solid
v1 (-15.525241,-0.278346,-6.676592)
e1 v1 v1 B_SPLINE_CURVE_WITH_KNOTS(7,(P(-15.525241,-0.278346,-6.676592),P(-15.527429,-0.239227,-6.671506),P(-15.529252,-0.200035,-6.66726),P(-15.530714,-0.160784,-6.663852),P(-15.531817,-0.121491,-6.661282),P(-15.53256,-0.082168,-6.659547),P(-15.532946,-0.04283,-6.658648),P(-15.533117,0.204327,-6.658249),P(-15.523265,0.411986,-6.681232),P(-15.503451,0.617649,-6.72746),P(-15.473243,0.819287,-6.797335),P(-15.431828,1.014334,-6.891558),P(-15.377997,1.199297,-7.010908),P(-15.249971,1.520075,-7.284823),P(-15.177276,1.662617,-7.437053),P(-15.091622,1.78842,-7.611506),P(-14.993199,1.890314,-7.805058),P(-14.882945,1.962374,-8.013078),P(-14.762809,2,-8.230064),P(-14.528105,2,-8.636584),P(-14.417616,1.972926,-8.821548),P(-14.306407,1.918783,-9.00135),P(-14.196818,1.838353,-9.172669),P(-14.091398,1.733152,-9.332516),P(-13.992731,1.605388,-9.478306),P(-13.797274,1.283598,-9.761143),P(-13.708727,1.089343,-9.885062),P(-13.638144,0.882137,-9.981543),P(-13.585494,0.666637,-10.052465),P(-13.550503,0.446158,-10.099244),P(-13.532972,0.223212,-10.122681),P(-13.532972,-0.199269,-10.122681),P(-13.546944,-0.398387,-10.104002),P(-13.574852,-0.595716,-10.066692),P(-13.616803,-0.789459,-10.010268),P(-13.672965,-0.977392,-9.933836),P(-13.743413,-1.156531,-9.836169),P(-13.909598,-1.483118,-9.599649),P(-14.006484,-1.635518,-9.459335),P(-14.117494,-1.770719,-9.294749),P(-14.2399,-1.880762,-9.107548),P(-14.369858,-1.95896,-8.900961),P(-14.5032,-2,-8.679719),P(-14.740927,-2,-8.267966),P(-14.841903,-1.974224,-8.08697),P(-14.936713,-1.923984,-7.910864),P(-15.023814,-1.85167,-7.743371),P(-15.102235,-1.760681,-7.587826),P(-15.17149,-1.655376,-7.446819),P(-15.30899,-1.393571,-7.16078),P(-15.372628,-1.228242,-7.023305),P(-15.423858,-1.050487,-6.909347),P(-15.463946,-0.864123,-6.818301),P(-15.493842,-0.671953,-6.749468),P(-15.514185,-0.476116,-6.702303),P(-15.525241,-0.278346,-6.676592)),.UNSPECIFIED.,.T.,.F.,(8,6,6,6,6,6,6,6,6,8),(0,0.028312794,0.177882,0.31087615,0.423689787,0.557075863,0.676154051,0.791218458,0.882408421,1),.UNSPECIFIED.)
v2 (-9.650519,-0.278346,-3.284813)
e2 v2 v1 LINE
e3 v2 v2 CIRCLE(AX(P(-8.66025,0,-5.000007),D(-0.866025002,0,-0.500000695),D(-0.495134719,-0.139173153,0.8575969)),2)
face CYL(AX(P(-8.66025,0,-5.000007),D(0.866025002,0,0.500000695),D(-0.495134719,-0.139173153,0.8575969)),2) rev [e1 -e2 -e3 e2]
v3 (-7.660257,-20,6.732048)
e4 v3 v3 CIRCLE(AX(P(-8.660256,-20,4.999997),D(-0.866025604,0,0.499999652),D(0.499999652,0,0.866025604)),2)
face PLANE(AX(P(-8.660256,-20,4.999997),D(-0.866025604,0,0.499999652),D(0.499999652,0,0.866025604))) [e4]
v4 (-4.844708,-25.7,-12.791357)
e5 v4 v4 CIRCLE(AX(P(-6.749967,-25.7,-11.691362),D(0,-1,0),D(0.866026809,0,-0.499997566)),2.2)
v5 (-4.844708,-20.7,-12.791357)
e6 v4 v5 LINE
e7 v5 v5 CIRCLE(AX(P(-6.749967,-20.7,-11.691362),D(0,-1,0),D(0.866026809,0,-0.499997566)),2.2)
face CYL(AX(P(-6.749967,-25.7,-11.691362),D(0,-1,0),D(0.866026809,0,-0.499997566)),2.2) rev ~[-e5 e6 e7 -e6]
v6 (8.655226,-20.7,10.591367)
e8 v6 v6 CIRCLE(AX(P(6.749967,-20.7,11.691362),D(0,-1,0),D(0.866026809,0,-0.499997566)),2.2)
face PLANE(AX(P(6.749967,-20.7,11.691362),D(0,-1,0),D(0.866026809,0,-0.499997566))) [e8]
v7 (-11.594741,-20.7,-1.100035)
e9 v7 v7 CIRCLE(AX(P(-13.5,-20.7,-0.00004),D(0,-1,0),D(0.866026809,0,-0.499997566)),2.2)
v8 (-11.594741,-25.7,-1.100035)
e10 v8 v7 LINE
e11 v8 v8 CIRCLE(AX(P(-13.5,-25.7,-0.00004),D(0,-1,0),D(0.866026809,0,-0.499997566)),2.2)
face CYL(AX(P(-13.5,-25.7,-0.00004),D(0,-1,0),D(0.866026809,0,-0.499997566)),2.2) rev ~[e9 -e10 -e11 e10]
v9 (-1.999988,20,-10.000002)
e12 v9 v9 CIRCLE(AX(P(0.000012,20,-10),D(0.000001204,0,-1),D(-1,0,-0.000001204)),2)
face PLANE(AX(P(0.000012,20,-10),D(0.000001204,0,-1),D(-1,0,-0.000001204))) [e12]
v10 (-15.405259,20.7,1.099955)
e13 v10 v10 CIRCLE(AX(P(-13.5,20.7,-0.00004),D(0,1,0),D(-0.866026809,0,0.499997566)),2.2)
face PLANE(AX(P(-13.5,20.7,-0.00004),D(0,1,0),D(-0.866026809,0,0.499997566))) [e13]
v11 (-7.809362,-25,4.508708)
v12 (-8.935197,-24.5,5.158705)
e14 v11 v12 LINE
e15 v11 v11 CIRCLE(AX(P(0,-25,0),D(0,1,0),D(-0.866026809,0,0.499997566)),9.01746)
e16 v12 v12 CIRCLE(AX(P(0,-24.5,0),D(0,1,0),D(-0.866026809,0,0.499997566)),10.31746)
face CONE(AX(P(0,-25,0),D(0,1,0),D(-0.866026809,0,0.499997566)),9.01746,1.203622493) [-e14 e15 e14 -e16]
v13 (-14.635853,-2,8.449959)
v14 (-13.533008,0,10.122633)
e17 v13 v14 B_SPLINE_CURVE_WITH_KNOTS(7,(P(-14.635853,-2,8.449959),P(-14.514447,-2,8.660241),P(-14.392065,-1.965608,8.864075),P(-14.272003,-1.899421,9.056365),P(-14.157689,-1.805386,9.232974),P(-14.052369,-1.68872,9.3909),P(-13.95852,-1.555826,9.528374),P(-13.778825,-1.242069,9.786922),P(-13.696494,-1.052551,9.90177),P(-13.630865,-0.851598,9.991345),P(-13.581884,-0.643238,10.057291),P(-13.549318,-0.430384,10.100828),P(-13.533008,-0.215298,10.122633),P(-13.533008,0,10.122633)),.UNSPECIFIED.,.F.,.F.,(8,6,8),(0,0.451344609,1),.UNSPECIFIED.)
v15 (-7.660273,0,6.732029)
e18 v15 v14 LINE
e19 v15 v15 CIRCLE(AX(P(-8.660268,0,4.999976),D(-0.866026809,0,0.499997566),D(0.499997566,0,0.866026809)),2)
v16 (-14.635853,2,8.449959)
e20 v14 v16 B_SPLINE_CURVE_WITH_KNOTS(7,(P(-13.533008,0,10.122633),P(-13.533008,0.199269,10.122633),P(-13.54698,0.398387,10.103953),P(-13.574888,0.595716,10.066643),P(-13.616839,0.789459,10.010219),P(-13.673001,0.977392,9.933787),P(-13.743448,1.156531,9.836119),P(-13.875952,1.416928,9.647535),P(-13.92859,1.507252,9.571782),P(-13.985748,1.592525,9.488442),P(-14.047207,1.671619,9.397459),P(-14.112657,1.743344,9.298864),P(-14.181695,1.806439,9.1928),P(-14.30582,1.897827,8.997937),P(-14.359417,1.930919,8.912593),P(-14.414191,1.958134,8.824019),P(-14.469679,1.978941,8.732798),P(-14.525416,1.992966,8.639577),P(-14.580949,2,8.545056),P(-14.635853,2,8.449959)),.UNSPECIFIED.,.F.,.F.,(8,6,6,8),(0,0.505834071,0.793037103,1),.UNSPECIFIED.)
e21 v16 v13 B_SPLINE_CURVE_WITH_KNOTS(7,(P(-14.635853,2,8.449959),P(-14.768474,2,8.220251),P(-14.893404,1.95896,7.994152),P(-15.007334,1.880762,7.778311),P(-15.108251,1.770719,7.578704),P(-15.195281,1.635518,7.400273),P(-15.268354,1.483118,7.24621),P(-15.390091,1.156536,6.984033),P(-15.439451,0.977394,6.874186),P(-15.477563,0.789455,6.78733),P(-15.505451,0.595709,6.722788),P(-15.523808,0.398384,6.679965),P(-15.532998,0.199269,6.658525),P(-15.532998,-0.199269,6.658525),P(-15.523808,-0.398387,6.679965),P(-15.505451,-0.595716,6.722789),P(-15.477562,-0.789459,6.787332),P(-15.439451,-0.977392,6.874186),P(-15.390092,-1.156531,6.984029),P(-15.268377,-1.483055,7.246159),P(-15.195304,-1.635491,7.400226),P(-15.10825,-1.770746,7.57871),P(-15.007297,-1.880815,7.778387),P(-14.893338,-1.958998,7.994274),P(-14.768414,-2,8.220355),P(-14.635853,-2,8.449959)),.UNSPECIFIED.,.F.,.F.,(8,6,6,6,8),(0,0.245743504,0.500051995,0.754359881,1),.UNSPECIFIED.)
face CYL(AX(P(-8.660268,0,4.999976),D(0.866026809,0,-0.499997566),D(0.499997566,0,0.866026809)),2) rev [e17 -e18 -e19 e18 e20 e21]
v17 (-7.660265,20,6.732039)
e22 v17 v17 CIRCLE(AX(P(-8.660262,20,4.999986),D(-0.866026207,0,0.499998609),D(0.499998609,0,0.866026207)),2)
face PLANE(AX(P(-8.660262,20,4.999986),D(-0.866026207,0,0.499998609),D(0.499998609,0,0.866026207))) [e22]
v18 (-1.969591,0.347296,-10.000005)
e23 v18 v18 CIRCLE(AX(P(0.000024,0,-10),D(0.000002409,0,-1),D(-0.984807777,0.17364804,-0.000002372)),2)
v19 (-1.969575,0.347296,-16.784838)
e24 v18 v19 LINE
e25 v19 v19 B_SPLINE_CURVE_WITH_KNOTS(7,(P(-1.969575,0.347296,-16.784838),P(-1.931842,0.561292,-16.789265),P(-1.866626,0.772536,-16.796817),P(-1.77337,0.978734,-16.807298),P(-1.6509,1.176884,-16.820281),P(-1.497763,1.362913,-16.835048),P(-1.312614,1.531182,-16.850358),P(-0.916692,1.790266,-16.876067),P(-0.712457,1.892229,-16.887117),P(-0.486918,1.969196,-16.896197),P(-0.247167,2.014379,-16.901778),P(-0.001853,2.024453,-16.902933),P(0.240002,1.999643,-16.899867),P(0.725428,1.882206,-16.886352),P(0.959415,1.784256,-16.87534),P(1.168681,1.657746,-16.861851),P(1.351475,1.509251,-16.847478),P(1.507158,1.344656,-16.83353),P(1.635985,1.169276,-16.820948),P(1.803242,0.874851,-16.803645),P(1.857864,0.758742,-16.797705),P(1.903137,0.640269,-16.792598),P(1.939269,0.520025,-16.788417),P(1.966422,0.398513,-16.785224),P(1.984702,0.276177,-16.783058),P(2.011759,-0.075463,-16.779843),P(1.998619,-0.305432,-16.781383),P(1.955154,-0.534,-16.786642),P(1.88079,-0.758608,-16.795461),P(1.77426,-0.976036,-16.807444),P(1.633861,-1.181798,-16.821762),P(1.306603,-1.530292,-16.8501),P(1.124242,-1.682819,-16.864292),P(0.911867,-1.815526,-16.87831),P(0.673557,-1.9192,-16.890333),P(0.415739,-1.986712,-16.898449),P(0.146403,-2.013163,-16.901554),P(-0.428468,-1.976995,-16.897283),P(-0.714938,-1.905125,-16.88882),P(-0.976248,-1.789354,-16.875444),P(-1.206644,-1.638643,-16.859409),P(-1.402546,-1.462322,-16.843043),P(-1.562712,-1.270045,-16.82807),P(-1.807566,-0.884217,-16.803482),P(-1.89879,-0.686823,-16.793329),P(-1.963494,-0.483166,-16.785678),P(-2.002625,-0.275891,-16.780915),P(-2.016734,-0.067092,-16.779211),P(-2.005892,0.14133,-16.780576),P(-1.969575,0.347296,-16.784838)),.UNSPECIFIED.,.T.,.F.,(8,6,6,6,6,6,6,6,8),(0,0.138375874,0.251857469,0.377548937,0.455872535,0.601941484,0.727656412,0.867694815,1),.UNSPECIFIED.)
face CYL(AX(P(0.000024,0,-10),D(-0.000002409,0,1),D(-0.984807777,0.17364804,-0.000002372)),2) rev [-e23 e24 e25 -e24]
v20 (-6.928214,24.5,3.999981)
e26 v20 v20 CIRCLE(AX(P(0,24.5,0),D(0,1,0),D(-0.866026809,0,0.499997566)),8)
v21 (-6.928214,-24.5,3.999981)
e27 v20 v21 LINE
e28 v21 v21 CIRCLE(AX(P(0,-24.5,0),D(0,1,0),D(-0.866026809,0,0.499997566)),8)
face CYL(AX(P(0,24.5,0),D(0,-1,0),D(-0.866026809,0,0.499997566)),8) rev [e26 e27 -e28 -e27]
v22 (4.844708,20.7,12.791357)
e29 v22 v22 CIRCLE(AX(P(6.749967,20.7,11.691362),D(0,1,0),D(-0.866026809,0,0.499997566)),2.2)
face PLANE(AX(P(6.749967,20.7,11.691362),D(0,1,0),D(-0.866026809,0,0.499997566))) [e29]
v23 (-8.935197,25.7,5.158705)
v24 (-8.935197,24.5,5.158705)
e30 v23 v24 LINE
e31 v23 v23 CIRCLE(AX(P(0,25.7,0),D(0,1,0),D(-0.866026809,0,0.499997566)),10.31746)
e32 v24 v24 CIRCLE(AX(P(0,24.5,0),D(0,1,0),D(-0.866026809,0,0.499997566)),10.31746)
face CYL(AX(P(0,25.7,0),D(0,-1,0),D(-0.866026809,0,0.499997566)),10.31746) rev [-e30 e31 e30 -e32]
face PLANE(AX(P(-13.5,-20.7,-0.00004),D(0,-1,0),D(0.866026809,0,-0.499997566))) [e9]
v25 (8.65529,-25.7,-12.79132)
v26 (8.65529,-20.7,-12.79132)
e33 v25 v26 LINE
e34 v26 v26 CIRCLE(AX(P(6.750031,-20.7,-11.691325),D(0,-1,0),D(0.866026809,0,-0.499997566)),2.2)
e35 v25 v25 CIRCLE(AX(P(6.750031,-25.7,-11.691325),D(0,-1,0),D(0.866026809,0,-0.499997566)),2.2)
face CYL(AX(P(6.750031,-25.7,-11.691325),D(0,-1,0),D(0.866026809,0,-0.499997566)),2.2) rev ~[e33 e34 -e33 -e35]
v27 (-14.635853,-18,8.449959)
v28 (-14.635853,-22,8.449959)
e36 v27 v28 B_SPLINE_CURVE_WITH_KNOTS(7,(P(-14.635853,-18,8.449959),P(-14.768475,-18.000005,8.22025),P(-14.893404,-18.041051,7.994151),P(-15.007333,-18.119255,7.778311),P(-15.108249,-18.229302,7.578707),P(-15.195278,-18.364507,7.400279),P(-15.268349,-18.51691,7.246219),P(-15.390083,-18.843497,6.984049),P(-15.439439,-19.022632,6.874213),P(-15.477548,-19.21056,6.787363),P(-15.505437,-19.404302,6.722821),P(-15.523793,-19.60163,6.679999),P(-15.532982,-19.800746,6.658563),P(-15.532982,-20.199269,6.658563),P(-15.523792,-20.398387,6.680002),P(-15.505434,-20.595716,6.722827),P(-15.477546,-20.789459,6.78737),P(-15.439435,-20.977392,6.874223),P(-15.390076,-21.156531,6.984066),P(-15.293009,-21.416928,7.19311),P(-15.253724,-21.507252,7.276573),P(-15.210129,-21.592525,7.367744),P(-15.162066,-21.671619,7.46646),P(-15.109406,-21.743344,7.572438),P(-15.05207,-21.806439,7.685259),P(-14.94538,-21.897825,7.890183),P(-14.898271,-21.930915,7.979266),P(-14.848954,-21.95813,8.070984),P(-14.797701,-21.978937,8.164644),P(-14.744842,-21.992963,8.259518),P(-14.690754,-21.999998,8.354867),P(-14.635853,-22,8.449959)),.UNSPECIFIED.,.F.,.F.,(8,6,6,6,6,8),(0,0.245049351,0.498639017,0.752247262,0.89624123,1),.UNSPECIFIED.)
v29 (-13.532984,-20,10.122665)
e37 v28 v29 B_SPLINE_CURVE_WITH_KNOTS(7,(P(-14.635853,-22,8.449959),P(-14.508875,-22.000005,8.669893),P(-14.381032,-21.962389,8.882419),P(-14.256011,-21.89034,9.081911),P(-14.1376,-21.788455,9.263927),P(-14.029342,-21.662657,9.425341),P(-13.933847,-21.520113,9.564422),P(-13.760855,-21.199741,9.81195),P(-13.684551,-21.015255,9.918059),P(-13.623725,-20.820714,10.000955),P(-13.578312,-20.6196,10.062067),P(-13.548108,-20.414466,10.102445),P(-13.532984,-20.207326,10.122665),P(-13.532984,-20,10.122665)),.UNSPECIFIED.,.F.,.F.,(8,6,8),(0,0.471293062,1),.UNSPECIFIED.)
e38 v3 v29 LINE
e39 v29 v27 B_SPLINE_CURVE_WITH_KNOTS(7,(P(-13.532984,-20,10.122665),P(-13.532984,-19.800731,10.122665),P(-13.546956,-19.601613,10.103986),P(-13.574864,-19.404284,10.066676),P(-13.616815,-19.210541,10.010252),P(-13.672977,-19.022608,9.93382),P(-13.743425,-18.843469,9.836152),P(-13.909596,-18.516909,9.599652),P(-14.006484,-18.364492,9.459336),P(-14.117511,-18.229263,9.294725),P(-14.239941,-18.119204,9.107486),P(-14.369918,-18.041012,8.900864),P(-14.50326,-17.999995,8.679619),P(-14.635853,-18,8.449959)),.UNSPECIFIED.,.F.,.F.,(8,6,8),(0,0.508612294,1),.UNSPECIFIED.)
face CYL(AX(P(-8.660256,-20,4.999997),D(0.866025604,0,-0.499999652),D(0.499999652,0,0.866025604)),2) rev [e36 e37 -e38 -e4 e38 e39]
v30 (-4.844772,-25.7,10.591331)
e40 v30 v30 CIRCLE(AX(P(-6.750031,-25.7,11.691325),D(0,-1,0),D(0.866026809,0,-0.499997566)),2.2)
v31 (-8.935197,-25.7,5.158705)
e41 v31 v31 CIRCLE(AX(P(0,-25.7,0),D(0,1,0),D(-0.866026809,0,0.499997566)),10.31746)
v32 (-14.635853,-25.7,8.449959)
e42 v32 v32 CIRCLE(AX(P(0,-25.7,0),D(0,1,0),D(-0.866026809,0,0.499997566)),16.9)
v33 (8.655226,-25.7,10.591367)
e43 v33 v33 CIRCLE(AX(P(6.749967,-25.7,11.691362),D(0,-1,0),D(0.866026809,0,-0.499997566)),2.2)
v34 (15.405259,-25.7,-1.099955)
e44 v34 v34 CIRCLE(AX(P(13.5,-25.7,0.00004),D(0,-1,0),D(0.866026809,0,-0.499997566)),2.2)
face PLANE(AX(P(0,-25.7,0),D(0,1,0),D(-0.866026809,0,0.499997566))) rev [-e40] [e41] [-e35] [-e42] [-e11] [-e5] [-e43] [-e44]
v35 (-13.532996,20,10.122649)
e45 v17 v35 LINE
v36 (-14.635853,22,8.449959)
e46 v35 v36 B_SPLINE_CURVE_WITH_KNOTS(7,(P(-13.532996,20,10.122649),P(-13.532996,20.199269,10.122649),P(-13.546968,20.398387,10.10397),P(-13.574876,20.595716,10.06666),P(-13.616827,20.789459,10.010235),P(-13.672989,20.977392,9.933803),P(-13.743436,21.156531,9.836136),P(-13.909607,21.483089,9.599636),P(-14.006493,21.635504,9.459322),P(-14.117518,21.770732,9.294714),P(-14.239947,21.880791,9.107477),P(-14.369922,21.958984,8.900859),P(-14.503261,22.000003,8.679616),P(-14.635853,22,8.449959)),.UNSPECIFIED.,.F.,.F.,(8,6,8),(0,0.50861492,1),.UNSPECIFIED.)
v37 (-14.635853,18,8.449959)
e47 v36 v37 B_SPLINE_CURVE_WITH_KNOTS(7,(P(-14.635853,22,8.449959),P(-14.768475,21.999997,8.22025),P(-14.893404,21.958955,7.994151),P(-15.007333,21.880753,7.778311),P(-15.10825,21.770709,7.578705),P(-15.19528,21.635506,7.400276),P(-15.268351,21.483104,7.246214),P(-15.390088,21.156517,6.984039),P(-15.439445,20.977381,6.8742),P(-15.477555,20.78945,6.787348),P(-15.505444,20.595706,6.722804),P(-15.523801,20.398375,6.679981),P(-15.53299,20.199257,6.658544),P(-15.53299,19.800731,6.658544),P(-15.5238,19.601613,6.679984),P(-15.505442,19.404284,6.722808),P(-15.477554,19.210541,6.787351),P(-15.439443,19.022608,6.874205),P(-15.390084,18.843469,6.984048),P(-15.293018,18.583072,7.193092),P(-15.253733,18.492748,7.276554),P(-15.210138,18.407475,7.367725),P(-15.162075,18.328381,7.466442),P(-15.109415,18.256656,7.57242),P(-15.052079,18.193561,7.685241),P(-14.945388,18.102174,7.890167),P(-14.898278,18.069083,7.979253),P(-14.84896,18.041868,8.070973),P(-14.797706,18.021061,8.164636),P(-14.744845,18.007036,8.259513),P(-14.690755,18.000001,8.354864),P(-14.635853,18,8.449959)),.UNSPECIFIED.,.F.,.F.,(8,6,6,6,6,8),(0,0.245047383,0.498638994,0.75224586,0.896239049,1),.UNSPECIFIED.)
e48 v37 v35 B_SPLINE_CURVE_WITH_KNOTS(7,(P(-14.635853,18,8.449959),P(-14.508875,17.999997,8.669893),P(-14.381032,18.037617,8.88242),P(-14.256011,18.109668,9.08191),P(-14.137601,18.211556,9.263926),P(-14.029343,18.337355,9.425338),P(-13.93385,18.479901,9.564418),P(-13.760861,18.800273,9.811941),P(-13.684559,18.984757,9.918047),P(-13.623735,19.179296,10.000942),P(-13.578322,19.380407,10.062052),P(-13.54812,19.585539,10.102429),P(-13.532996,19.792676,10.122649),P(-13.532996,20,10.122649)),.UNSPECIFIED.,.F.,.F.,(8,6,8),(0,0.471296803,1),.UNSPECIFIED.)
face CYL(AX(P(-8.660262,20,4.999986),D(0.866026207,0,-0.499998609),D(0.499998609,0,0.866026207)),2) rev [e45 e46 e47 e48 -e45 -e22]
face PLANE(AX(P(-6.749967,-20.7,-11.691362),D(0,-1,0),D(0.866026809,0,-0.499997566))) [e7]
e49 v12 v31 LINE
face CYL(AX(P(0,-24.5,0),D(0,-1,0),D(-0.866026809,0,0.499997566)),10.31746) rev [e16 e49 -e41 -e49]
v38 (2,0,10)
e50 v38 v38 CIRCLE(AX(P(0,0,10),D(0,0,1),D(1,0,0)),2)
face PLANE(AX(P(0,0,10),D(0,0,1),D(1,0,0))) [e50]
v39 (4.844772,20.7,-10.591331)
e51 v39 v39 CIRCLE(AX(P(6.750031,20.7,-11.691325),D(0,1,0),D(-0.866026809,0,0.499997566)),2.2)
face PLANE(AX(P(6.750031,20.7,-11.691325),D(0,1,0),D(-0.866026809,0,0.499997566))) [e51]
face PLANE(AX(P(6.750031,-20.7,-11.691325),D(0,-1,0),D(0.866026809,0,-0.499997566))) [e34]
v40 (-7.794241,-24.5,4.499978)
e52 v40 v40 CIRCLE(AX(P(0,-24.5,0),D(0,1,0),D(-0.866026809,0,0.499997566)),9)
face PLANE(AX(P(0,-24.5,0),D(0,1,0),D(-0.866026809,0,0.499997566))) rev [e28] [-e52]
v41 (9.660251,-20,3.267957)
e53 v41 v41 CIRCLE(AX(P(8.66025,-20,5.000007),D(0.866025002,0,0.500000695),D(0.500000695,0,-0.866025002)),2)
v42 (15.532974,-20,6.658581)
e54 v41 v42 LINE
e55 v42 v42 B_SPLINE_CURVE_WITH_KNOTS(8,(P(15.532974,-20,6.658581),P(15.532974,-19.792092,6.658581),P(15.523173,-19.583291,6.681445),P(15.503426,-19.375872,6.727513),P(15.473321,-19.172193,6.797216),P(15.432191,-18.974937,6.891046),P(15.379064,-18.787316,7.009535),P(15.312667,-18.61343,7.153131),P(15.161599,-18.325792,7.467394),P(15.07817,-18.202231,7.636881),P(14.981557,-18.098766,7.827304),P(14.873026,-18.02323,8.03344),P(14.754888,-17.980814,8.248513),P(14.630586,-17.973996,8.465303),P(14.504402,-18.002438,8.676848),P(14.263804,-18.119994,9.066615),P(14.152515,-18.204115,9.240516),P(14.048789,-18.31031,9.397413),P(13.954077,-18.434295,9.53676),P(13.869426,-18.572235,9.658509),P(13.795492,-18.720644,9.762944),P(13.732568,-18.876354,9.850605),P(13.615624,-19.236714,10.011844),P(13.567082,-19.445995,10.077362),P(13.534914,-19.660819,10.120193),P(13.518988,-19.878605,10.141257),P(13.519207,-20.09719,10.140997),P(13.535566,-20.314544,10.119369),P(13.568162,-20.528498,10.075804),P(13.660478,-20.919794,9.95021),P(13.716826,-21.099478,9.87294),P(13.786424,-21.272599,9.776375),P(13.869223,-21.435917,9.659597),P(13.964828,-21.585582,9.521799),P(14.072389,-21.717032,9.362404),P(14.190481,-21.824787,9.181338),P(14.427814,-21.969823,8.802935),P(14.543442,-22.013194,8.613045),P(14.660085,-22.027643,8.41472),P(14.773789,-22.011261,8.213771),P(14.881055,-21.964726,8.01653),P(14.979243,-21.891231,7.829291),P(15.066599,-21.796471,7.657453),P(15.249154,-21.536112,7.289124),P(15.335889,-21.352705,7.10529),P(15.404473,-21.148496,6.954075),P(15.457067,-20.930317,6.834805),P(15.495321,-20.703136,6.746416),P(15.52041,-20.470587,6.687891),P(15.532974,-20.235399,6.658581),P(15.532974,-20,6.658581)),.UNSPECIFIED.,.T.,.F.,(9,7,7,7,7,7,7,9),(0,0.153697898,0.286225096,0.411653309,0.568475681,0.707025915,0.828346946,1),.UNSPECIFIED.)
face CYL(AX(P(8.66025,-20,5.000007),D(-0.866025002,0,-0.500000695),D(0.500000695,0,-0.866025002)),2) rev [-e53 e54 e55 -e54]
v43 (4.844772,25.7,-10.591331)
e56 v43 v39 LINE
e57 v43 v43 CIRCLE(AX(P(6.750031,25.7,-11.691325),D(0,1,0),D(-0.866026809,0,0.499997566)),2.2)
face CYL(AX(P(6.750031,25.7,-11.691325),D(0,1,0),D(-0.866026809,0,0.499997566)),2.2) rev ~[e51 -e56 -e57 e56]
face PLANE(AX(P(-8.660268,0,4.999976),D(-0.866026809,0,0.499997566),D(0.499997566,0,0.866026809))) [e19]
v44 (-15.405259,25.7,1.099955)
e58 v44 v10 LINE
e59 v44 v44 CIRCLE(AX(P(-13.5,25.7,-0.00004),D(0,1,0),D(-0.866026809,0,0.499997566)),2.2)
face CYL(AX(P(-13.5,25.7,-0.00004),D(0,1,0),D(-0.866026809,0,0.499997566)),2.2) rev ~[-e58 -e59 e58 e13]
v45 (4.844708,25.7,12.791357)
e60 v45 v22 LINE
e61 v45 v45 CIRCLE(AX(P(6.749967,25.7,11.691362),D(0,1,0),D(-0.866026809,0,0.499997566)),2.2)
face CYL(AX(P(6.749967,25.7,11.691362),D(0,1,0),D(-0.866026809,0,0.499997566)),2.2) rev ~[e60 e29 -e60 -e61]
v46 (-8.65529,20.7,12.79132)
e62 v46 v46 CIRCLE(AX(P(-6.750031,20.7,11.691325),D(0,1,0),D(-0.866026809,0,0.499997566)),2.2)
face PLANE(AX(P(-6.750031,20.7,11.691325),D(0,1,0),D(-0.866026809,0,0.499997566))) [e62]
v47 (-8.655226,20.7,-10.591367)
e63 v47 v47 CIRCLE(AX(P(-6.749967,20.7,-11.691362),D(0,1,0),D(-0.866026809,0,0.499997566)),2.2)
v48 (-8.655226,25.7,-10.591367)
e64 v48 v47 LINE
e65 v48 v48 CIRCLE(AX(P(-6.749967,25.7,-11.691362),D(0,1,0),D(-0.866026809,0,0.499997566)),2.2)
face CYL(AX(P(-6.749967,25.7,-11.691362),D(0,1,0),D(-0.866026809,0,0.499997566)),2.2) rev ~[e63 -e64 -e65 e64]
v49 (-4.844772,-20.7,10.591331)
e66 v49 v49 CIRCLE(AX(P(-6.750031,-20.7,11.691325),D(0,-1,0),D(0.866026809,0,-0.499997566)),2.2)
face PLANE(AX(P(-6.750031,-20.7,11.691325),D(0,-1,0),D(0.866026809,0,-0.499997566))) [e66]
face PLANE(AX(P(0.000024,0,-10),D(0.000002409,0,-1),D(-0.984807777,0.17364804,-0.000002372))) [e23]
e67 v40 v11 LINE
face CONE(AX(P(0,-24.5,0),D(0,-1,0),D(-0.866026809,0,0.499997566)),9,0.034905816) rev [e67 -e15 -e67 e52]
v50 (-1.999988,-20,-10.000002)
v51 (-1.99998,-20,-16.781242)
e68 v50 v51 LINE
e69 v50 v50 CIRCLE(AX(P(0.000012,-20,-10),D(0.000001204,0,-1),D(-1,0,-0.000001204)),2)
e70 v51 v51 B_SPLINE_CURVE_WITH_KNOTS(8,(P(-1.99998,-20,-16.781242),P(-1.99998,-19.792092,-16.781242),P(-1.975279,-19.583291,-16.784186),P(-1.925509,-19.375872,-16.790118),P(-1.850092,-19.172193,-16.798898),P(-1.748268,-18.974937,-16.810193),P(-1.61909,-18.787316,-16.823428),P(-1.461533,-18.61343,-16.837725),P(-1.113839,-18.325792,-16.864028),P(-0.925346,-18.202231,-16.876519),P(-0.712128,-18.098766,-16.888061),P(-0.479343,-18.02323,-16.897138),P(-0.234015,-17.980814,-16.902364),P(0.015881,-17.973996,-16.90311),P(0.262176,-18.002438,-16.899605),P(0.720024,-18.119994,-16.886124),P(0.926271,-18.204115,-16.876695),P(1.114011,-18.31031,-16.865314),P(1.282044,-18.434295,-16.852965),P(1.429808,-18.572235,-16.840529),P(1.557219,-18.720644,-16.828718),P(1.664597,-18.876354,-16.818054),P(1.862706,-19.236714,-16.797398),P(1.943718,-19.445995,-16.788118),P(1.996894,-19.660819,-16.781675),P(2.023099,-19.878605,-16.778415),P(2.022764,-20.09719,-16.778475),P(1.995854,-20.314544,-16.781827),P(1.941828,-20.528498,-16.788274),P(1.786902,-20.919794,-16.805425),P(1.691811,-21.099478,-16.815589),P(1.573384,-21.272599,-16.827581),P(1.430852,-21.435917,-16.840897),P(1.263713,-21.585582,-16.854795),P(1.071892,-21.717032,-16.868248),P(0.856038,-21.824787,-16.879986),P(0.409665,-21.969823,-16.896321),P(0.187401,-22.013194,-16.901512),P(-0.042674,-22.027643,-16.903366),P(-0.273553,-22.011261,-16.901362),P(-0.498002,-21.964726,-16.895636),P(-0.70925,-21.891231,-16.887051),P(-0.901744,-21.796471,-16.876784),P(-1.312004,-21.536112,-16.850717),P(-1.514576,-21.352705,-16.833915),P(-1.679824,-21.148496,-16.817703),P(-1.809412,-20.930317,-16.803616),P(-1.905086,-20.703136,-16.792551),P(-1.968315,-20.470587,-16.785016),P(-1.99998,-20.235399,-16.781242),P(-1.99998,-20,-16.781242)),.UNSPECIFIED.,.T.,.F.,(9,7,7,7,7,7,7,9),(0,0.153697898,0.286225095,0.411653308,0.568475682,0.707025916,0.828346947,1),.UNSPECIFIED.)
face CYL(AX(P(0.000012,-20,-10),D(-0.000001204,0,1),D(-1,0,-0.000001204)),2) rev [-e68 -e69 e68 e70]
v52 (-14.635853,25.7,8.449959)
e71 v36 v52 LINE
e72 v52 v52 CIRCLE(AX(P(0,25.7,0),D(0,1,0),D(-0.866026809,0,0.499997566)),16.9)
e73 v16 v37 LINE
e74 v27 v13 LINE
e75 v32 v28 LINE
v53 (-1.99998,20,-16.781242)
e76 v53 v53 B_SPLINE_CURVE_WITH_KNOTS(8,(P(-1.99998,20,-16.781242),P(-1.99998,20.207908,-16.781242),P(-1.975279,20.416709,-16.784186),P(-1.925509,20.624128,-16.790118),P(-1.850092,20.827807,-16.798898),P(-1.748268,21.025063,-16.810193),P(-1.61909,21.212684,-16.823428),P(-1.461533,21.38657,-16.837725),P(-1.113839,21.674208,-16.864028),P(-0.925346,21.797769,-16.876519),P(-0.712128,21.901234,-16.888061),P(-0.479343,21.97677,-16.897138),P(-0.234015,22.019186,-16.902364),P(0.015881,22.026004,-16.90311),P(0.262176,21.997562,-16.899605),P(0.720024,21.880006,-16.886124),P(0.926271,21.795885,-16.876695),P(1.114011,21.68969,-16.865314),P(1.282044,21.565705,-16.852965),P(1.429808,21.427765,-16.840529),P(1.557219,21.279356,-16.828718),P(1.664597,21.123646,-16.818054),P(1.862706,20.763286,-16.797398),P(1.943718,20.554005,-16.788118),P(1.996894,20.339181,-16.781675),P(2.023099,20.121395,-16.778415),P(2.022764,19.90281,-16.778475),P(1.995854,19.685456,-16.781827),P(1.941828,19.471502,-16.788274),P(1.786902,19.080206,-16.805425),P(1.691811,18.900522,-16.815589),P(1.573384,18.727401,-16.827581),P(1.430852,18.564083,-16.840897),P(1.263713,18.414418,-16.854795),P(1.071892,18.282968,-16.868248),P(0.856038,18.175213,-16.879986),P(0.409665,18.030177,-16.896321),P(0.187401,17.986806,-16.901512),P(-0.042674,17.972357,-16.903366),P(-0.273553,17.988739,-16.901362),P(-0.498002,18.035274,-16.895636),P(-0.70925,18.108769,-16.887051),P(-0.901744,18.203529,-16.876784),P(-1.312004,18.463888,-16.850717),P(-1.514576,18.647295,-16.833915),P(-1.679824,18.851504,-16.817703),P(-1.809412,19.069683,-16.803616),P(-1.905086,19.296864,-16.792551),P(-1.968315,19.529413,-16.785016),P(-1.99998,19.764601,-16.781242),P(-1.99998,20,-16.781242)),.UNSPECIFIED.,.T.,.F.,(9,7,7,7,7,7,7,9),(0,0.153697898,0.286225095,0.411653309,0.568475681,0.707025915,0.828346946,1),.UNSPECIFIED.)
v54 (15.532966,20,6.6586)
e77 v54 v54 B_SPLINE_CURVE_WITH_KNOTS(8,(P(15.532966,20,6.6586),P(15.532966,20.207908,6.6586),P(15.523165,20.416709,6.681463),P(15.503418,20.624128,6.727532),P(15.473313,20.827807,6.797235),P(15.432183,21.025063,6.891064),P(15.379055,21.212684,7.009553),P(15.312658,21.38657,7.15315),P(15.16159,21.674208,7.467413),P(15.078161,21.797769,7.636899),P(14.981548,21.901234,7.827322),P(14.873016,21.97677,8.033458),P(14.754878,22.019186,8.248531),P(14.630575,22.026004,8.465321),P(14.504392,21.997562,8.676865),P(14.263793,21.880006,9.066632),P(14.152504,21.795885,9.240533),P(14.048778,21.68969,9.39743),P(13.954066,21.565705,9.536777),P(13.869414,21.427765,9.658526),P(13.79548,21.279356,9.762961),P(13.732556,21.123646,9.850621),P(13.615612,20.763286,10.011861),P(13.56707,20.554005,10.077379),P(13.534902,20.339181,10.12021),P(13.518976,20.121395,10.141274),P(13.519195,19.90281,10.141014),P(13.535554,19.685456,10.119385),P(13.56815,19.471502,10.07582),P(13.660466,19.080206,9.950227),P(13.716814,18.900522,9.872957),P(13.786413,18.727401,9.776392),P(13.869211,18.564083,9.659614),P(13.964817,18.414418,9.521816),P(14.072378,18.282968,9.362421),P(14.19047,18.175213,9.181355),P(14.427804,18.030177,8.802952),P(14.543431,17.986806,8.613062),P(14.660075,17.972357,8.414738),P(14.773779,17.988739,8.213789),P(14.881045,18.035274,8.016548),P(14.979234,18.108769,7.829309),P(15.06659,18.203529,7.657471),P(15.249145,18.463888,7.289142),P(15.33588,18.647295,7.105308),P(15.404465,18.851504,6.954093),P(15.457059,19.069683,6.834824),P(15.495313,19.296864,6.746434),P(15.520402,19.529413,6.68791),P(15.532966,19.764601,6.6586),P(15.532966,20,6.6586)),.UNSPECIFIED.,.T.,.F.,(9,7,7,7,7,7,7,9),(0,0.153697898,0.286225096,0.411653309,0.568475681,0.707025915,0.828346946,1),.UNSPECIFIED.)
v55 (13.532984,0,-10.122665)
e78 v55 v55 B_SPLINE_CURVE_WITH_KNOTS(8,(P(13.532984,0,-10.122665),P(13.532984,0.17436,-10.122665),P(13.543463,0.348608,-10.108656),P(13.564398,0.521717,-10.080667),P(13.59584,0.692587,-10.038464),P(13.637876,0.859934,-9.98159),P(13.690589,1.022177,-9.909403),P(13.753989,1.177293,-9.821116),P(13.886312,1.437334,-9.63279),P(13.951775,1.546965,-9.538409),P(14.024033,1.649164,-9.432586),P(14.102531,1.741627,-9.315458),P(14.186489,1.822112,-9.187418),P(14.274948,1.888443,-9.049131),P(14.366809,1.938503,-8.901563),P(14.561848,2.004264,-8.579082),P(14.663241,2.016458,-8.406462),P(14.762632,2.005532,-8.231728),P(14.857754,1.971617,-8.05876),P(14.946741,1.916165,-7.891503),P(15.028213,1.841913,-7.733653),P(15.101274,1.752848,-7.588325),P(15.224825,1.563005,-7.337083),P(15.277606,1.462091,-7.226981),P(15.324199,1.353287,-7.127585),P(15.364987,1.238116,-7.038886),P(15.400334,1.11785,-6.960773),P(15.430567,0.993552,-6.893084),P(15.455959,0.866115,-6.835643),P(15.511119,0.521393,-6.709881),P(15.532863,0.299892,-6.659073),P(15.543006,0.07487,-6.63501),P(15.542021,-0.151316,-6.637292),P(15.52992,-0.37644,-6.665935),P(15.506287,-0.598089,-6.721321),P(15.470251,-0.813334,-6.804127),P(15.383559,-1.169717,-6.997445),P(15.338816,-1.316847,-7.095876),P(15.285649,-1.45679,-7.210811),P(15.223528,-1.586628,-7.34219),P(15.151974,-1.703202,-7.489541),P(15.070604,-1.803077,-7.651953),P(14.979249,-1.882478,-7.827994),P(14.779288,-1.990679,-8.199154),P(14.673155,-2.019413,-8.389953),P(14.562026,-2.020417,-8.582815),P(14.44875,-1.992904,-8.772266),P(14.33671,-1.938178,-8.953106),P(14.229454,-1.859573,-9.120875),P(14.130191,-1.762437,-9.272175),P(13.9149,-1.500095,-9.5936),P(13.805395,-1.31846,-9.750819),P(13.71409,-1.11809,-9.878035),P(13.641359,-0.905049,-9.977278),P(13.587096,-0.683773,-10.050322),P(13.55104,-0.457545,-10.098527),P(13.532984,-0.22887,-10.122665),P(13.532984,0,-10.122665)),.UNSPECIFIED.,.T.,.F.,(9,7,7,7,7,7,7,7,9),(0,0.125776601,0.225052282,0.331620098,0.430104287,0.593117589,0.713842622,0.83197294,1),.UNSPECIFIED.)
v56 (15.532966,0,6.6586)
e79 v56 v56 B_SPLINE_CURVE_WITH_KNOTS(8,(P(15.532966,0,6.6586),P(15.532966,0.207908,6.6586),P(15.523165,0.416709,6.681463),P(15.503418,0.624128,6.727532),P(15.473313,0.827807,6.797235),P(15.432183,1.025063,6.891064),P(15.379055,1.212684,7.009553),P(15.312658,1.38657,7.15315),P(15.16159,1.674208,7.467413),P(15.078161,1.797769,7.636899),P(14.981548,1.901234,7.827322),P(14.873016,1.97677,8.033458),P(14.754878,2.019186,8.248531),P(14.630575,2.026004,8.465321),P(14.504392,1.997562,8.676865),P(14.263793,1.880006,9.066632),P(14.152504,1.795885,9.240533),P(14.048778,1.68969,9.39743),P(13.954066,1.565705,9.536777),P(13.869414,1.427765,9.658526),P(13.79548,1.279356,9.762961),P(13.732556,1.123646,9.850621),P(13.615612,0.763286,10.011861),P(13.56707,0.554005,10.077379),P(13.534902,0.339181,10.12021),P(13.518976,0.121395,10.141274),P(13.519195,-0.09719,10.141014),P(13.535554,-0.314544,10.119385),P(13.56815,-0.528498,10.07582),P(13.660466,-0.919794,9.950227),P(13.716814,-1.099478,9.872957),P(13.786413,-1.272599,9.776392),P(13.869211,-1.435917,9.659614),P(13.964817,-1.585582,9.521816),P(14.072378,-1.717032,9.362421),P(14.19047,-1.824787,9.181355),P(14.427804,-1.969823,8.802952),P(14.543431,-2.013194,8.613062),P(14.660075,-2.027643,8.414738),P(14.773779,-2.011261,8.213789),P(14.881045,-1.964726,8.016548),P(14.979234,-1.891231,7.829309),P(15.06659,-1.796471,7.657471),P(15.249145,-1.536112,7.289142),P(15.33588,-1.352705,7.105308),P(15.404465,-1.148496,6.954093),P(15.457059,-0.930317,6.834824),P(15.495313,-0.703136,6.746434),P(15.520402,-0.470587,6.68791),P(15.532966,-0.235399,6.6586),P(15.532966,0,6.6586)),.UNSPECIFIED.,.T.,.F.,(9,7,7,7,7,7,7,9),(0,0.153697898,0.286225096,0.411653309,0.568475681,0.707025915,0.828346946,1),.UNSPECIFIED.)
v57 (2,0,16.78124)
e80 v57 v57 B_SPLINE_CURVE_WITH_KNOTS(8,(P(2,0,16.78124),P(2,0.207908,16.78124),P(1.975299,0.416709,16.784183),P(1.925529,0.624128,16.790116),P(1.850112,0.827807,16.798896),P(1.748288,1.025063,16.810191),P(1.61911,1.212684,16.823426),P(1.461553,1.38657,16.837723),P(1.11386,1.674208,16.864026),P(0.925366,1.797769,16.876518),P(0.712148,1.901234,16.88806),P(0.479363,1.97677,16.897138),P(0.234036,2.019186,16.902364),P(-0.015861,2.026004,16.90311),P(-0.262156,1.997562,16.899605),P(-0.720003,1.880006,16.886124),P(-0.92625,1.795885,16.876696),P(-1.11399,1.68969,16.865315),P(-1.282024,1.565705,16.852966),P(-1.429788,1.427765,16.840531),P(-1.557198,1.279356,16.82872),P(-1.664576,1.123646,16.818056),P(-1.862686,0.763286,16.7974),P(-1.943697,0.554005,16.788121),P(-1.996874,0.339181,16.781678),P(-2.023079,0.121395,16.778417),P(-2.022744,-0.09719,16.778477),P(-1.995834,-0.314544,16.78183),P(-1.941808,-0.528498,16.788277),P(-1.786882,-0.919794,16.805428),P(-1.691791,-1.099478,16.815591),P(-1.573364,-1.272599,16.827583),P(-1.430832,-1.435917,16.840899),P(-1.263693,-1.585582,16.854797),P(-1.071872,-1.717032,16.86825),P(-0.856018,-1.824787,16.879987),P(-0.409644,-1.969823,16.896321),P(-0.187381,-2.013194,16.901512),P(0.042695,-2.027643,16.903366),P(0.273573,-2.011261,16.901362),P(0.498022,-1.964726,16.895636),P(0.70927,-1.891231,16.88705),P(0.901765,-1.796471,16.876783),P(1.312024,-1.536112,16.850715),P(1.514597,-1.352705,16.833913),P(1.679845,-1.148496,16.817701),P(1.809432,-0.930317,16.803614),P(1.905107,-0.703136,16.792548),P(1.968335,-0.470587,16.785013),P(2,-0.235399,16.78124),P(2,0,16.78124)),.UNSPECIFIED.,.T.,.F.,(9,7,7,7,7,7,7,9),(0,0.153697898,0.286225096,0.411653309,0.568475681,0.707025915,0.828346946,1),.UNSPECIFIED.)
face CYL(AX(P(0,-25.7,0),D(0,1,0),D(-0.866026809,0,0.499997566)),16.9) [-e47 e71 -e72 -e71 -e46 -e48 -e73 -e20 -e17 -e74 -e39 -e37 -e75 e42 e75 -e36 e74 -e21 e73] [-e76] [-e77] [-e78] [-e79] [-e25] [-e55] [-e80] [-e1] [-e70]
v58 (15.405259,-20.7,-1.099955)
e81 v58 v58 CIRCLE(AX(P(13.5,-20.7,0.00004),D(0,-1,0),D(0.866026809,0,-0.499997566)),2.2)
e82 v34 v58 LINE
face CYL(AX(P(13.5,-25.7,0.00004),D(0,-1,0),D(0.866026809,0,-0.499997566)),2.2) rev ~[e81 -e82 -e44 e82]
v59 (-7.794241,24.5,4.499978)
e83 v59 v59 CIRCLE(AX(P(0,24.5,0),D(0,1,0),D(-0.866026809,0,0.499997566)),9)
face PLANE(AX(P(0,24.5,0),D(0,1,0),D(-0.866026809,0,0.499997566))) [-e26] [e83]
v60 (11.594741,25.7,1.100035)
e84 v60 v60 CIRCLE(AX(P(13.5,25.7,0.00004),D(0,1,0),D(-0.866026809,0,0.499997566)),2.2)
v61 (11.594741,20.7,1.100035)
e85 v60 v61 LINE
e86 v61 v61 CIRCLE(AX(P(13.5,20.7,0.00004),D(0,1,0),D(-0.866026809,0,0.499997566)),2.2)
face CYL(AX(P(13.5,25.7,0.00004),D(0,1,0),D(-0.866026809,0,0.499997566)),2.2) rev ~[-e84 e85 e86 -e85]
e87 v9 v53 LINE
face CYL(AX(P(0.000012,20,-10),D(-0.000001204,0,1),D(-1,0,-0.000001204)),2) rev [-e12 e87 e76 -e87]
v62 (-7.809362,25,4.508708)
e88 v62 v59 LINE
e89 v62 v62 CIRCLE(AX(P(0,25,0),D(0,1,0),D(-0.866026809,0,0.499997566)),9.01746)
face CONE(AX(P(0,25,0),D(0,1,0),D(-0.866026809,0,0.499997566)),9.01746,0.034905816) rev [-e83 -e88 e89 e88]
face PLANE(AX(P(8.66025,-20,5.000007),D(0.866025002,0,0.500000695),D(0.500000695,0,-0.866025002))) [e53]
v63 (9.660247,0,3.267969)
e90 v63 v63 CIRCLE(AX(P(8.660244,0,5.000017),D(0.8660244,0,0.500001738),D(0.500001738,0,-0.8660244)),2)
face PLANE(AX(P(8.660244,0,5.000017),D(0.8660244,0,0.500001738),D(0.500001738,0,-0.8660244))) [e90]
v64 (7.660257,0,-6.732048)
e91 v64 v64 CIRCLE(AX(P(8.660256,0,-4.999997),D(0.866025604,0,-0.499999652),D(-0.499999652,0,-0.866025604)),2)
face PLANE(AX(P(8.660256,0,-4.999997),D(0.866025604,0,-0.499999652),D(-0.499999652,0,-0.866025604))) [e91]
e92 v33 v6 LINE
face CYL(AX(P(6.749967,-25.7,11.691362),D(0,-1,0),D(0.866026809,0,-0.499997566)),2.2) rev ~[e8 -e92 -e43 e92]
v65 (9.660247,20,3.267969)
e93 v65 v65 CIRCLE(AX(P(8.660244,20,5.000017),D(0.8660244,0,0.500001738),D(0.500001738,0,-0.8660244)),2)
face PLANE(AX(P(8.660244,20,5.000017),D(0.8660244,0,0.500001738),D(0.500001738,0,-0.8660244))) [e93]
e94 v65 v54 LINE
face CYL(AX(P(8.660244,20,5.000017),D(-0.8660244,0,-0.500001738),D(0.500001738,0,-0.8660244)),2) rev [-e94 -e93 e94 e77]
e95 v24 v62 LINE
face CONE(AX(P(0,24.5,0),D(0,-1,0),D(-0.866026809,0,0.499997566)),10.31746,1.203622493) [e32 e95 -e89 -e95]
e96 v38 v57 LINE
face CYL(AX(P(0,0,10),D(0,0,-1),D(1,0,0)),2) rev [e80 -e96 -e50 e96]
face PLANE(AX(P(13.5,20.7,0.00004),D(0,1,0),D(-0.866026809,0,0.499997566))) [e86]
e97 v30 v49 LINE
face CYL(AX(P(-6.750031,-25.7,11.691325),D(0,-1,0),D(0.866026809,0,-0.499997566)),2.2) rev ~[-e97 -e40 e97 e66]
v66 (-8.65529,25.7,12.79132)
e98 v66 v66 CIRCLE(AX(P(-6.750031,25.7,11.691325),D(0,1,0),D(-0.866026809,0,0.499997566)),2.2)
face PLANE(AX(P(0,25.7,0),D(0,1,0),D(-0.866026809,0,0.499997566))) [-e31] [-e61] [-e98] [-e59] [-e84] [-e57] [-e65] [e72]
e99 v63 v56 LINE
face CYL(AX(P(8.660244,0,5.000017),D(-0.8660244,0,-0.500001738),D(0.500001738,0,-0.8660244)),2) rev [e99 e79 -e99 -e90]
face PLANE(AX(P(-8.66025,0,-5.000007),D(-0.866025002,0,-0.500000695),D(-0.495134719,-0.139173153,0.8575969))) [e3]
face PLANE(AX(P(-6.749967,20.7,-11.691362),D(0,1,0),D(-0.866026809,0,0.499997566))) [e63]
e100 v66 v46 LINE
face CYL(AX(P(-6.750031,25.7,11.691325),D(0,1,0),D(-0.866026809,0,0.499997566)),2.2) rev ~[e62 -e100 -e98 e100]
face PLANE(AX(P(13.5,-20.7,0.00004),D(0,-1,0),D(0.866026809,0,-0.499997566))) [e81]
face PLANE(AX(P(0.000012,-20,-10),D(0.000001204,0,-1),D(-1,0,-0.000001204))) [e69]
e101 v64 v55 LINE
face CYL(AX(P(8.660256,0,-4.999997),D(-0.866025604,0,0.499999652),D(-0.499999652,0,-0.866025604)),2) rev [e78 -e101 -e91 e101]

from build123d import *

# Parameters (mm, degrees)
CYLINDER011_R               = 2
CYLINDER011_DEPTH           = 10
CYLINDER010_R               = 2
CYLINDER010_DEPTH           = 10
CYLINDER009_R               = 2
CYLINDER009_DEPTH           = 10
CYLINDER009_PLACEMENT_ANGLE = -8.000003
CYLINDER008_R               = 2
CYLINDER008_DEPTH           = 10
CYLINDER007_R               = 2
CYLINDER007_DEPTH           = 10
CYLINDER006_R               = 2
CYLINDER006_DEPTH           = 10
CYLINDER005_R               = 2
CYLINDER005_DEPTH           = 10
CYLINDER004_R               = 2
CYLINDER004_DEPTH           = 10
CYLINDER003_R               = 2
CYLINDER003_DEPTH           = 10
CYLINDER002_R               = 2
CYLINDER002_DEPTH           = 10
CYLINDER001_R               = 2
CYLINDER001_DEPTH           = 10
CYLINDER001_PLACEMENT_ANGLE = 9.999992
CYLINDER_R                  = 2
CYLINDER_DEPTH              = 10
SKETCH001_R                 = 2.2
POCKET_DEPTH                = 5
SKETCH002_R                 = 2.2
POCKET001_DEPTH             = 5
CUT_PLACEMENT_ANGLE         = 119.999977
CUT001_PLACEMENT_ANGLE      = 119.999977
CUT003_PLACEMENT_ANGLE      = 119.999977
CUT004_PLACEMENT_ANGLE      = 119.999977
CUT006_PLACEMENT_ANGLE      = 119.999977
CUT007_PLACEMENT_ANGLE      = 119.999977
CUT008_PLACEMENT_ANGLE      = 60.000023
CUT009_PLACEMENT_ANGLE      = 119.999977
CUT010_PLACEMENT_ANGLE      = 119.999977


with BuildPart() as cylinder011:
    # Cylinder011 → Cylinder011 (new body)
    with BuildSketch(Plane.XY.offset(10)):
        Circle(CYLINDER011_R)
    extrude(amount=CYLINDER011_DEPTH)


with BuildPart() as cylinder010:
    # Cylinder010 → Cylinder010 (new body)
    with BuildSketch(Plane.XY.offset(10)):
        Circle(CYLINDER010_R)
    extrude(amount=CYLINDER010_DEPTH)


with BuildPart() as cylinder009:
    # Cylinder009 → Cylinder009 (new body)
    with BuildSketch(Plane.XY):
        Circle(CYLINDER009_R)
    extrude(amount=CYLINDER009_DEPTH)


with BuildPart() as cylinder009_1:
    # Cylinder009 placement: moved
    add(cylinder009.part.moved(Location((0, 0, 10))).rotate(Axis((0, 0, 10), (0, 0, 1)), CYLINDER009_PLACEMENT_ANGLE))


with BuildPart() as cylinder008:
    # Cylinder008 → Cylinder008 (new body)
    with BuildSketch(Plane(origin=(0, -20, 10), x_dir=(1, 0, 0), z_dir=(0, 0, 1))):
        Circle(CYLINDER008_R)
    extrude(amount=CYLINDER008_DEPTH)


with BuildPart() as cylinder007:
    # Cylinder007 → Cylinder007 (new body)
    with BuildSketch(Plane(origin=(0, -20, 10), x_dir=(1, 0, 0), z_dir=(0, 0, 1))):
        Circle(CYLINDER007_R)
    extrude(amount=CYLINDER007_DEPTH)


with BuildPart() as cylinder006:
    # Cylinder006 → Cylinder006 (new body)
    with BuildSketch(Plane(origin=(0, -20, 10), x_dir=(1, 0, 0), z_dir=(0, 0, 1))):
        Circle(CYLINDER006_R)
    extrude(amount=CYLINDER006_DEPTH)


with BuildPart() as cylinder005:
    # Cylinder005 → Cylinder005 (new body)
    with BuildSketch(Plane(origin=(0, 20, 10), x_dir=(1, 0, 0), z_dir=(0, 0, 1))):
        Circle(CYLINDER005_R)
    extrude(amount=CYLINDER005_DEPTH)


with BuildPart() as cylinder004:
    # Cylinder004 → Cylinder004 (new body)
    with BuildSketch(Plane(origin=(0, 20, 10), x_dir=(1, 0, 0), z_dir=(0, 0, 1))):
        Circle(CYLINDER004_R)
    extrude(amount=CYLINDER004_DEPTH)


with BuildPart() as cylinder003:
    # Cylinder003 → Cylinder003 (new body)
    with BuildSketch(Plane(origin=(0, 20, 10), x_dir=(1, 0, 0), z_dir=(0, 0, 1))):
        Circle(CYLINDER003_R)
    extrude(amount=CYLINDER003_DEPTH)


with BuildPart() as cylinder002:
    # Cylinder002 → Cylinder002 (new body)
    with BuildSketch(Plane.XY.offset(10)):
        Circle(CYLINDER002_R)
    extrude(amount=CYLINDER002_DEPTH)


with BuildPart() as cylinder001:
    # Cylinder001 → Cylinder001 (new body)
    with BuildSketch(Plane.XY):
        Circle(CYLINDER001_R)
    extrude(amount=CYLINDER001_DEPTH)


with BuildPart() as cylinder001_1:
    # Cylinder001 placement: moved
    add(cylinder001.part.moved(Location((0, 0, 10))).rotate(Axis((0, 0, 10), (0, 0, 1)), CYLINDER001_PLACEMENT_ANGLE))


with BuildPart() as cylinder:
    # Cylinder → Cylinder (new body)
    with BuildSketch(Plane.XY.offset(10)):
        Circle(CYLINDER_R)
    extrude(amount=CYLINDER_DEPTH)


with BuildPart() as cut011:
    # Sketch → Revolution (revolve)
    with BuildSketch(Plane.YZ):
        Polygon((-24.5, 8), (-24.5, 9), (-25, 9.01746), (-24.5, 10.31746), (-25.7, 10.31746), (-25.7, 16.9), (25.7, 16.9), (25.7, 10.31746), (24.5, 10.31746), (25, 9.01746), (24.5, 9), (24.5, 8), align=None)
    revolve(axis=Axis((0, 0, 0), (0, 1, 0)))

    # Sketch001 → Pocket (cut)
    with BuildSketch(Plane(origin=(0, -25.7, 0), x_dir=(0, 0, -1), z_dir=(0, -1, 0))):
        with Locations((-11.691342, 6.750002)):
            Circle(SKETCH001_R)
        with Locations((-11.691342, -6.750002)):
            Circle(SKETCH001_R)
        with Locations((0, -13.5)):
            Circle(SKETCH001_R)
        with Locations((11.691342, -6.750002)):
            Circle(SKETCH001_R)
        with Locations((11.691342, 6.750002)):
            Circle(SKETCH001_R)
        with Locations((0, 13.5)):
            Circle(SKETCH001_R)
    extrude(amount=-POCKET_DEPTH, mode=Mode.SUBTRACT)

    # Sketch002 → Pocket001 (cut)
    with BuildSketch(Plane.ZX.offset(25.7)):
        with Locations((0, 13.5)):
            Circle(SKETCH002_R)
        with Locations((11.691342, 6.750002)):
            Circle(SKETCH002_R)
        with Locations((11.691342, -6.750002)):
            Circle(SKETCH002_R)
        with Locations((0, -13.5)):
            Circle(SKETCH002_R)
        with Locations((-11.691342, -6.750002)):
            Circle(SKETCH002_R)
        with Locations((-11.691342, 6.750002)):
            Circle(SKETCH002_R)
    extrude(amount=-POCKET001_DEPTH, mode=Mode.SUBTRACT)

    # Cut: cut Cylinder
    add(cylinder.part, mode=Mode.SUBTRACT)


with BuildPart() as cut011_1:
    # Cut placement: moved
    add(cut011.part.rotate(Axis((0, 0, 0), (0, 1, 0)), CUT_PLACEMENT_ANGLE))

    # Cut001: cut Cylinder001
    add(cylinder001_1.part, mode=Mode.SUBTRACT)


with BuildPart() as cut011_2:
    # Cut001 placement: moved
    add(cut011_1.part.rotate(Axis((0, 0, 0), (0, 1, 0)), CUT001_PLACEMENT_ANGLE))

    # Cut002: cut Cylinder002
    add(cylinder002.part, mode=Mode.SUBTRACT)

    # Cut003: cut Cylinder003
    add(cylinder003.part, mode=Mode.SUBTRACT)


with BuildPart() as cut011_3:
    # Cut003 placement: moved
    add(cut011_2.part.rotate(Axis((0, 0, 0), (0, 1, 0)), CUT003_PLACEMENT_ANGLE))

    # Cut004: cut Cylinder004
    add(cylinder004.part, mode=Mode.SUBTRACT)


with BuildPart() as cut011_4:
    # Cut004 placement: moved
    add(cut011_3.part.rotate(Axis((0, 0, 0), (0, 1, 0)), CUT004_PLACEMENT_ANGLE))

    # Cut005: cut Cylinder005
    add(cylinder005.part, mode=Mode.SUBTRACT)

    # Cut006: cut Cylinder006
    add(cylinder006.part, mode=Mode.SUBTRACT)


with BuildPart() as cut011_5:
    # Cut006 placement: moved
    add(cut011_4.part.rotate(Axis((0, 0, 0), (0, 1, 0)), CUT006_PLACEMENT_ANGLE))

    # Cut007: cut Cylinder007
    add(cylinder007.part, mode=Mode.SUBTRACT)


with BuildPart() as cut011_6:
    # Cut007 placement: moved
    add(cut011_5.part.rotate(Axis((0, 0, 0), (0, 1, 0)), CUT007_PLACEMENT_ANGLE))

    # Cut008: cut Cylinder008
    add(cylinder008.part, mode=Mode.SUBTRACT)


with BuildPart() as cut011_7:
    # Cut008 placement: moved
    add(cut011_6.part.rotate(Axis((0, 0, 0), (0, 1, 0)), CUT008_PLACEMENT_ANGLE))

    # Cut009: cut Cylinder009
    add(cylinder009_1.part, mode=Mode.SUBTRACT)


with BuildPart() as cut011_8:
    # Cut009 placement: moved
    add(cut011_7.part.rotate(Axis((0, 0, 0), (0, 1, 0)), CUT009_PLACEMENT_ANGLE))

    # Cut010: cut Cylinder010
    add(cylinder010.part, mode=Mode.SUBTRACT)


with BuildPart() as cut011_9:
    # Cut010 placement: moved
    add(cut011_8.part.rotate(Axis((0, 0, 0), (0, 1, 0)), CUT010_PLACEMENT_ANGLE))

    # Cut011: cut Cylinder011
    add(cylinder011.part, mode=Mode.SUBTRACT)


solid = cut011_9.part
